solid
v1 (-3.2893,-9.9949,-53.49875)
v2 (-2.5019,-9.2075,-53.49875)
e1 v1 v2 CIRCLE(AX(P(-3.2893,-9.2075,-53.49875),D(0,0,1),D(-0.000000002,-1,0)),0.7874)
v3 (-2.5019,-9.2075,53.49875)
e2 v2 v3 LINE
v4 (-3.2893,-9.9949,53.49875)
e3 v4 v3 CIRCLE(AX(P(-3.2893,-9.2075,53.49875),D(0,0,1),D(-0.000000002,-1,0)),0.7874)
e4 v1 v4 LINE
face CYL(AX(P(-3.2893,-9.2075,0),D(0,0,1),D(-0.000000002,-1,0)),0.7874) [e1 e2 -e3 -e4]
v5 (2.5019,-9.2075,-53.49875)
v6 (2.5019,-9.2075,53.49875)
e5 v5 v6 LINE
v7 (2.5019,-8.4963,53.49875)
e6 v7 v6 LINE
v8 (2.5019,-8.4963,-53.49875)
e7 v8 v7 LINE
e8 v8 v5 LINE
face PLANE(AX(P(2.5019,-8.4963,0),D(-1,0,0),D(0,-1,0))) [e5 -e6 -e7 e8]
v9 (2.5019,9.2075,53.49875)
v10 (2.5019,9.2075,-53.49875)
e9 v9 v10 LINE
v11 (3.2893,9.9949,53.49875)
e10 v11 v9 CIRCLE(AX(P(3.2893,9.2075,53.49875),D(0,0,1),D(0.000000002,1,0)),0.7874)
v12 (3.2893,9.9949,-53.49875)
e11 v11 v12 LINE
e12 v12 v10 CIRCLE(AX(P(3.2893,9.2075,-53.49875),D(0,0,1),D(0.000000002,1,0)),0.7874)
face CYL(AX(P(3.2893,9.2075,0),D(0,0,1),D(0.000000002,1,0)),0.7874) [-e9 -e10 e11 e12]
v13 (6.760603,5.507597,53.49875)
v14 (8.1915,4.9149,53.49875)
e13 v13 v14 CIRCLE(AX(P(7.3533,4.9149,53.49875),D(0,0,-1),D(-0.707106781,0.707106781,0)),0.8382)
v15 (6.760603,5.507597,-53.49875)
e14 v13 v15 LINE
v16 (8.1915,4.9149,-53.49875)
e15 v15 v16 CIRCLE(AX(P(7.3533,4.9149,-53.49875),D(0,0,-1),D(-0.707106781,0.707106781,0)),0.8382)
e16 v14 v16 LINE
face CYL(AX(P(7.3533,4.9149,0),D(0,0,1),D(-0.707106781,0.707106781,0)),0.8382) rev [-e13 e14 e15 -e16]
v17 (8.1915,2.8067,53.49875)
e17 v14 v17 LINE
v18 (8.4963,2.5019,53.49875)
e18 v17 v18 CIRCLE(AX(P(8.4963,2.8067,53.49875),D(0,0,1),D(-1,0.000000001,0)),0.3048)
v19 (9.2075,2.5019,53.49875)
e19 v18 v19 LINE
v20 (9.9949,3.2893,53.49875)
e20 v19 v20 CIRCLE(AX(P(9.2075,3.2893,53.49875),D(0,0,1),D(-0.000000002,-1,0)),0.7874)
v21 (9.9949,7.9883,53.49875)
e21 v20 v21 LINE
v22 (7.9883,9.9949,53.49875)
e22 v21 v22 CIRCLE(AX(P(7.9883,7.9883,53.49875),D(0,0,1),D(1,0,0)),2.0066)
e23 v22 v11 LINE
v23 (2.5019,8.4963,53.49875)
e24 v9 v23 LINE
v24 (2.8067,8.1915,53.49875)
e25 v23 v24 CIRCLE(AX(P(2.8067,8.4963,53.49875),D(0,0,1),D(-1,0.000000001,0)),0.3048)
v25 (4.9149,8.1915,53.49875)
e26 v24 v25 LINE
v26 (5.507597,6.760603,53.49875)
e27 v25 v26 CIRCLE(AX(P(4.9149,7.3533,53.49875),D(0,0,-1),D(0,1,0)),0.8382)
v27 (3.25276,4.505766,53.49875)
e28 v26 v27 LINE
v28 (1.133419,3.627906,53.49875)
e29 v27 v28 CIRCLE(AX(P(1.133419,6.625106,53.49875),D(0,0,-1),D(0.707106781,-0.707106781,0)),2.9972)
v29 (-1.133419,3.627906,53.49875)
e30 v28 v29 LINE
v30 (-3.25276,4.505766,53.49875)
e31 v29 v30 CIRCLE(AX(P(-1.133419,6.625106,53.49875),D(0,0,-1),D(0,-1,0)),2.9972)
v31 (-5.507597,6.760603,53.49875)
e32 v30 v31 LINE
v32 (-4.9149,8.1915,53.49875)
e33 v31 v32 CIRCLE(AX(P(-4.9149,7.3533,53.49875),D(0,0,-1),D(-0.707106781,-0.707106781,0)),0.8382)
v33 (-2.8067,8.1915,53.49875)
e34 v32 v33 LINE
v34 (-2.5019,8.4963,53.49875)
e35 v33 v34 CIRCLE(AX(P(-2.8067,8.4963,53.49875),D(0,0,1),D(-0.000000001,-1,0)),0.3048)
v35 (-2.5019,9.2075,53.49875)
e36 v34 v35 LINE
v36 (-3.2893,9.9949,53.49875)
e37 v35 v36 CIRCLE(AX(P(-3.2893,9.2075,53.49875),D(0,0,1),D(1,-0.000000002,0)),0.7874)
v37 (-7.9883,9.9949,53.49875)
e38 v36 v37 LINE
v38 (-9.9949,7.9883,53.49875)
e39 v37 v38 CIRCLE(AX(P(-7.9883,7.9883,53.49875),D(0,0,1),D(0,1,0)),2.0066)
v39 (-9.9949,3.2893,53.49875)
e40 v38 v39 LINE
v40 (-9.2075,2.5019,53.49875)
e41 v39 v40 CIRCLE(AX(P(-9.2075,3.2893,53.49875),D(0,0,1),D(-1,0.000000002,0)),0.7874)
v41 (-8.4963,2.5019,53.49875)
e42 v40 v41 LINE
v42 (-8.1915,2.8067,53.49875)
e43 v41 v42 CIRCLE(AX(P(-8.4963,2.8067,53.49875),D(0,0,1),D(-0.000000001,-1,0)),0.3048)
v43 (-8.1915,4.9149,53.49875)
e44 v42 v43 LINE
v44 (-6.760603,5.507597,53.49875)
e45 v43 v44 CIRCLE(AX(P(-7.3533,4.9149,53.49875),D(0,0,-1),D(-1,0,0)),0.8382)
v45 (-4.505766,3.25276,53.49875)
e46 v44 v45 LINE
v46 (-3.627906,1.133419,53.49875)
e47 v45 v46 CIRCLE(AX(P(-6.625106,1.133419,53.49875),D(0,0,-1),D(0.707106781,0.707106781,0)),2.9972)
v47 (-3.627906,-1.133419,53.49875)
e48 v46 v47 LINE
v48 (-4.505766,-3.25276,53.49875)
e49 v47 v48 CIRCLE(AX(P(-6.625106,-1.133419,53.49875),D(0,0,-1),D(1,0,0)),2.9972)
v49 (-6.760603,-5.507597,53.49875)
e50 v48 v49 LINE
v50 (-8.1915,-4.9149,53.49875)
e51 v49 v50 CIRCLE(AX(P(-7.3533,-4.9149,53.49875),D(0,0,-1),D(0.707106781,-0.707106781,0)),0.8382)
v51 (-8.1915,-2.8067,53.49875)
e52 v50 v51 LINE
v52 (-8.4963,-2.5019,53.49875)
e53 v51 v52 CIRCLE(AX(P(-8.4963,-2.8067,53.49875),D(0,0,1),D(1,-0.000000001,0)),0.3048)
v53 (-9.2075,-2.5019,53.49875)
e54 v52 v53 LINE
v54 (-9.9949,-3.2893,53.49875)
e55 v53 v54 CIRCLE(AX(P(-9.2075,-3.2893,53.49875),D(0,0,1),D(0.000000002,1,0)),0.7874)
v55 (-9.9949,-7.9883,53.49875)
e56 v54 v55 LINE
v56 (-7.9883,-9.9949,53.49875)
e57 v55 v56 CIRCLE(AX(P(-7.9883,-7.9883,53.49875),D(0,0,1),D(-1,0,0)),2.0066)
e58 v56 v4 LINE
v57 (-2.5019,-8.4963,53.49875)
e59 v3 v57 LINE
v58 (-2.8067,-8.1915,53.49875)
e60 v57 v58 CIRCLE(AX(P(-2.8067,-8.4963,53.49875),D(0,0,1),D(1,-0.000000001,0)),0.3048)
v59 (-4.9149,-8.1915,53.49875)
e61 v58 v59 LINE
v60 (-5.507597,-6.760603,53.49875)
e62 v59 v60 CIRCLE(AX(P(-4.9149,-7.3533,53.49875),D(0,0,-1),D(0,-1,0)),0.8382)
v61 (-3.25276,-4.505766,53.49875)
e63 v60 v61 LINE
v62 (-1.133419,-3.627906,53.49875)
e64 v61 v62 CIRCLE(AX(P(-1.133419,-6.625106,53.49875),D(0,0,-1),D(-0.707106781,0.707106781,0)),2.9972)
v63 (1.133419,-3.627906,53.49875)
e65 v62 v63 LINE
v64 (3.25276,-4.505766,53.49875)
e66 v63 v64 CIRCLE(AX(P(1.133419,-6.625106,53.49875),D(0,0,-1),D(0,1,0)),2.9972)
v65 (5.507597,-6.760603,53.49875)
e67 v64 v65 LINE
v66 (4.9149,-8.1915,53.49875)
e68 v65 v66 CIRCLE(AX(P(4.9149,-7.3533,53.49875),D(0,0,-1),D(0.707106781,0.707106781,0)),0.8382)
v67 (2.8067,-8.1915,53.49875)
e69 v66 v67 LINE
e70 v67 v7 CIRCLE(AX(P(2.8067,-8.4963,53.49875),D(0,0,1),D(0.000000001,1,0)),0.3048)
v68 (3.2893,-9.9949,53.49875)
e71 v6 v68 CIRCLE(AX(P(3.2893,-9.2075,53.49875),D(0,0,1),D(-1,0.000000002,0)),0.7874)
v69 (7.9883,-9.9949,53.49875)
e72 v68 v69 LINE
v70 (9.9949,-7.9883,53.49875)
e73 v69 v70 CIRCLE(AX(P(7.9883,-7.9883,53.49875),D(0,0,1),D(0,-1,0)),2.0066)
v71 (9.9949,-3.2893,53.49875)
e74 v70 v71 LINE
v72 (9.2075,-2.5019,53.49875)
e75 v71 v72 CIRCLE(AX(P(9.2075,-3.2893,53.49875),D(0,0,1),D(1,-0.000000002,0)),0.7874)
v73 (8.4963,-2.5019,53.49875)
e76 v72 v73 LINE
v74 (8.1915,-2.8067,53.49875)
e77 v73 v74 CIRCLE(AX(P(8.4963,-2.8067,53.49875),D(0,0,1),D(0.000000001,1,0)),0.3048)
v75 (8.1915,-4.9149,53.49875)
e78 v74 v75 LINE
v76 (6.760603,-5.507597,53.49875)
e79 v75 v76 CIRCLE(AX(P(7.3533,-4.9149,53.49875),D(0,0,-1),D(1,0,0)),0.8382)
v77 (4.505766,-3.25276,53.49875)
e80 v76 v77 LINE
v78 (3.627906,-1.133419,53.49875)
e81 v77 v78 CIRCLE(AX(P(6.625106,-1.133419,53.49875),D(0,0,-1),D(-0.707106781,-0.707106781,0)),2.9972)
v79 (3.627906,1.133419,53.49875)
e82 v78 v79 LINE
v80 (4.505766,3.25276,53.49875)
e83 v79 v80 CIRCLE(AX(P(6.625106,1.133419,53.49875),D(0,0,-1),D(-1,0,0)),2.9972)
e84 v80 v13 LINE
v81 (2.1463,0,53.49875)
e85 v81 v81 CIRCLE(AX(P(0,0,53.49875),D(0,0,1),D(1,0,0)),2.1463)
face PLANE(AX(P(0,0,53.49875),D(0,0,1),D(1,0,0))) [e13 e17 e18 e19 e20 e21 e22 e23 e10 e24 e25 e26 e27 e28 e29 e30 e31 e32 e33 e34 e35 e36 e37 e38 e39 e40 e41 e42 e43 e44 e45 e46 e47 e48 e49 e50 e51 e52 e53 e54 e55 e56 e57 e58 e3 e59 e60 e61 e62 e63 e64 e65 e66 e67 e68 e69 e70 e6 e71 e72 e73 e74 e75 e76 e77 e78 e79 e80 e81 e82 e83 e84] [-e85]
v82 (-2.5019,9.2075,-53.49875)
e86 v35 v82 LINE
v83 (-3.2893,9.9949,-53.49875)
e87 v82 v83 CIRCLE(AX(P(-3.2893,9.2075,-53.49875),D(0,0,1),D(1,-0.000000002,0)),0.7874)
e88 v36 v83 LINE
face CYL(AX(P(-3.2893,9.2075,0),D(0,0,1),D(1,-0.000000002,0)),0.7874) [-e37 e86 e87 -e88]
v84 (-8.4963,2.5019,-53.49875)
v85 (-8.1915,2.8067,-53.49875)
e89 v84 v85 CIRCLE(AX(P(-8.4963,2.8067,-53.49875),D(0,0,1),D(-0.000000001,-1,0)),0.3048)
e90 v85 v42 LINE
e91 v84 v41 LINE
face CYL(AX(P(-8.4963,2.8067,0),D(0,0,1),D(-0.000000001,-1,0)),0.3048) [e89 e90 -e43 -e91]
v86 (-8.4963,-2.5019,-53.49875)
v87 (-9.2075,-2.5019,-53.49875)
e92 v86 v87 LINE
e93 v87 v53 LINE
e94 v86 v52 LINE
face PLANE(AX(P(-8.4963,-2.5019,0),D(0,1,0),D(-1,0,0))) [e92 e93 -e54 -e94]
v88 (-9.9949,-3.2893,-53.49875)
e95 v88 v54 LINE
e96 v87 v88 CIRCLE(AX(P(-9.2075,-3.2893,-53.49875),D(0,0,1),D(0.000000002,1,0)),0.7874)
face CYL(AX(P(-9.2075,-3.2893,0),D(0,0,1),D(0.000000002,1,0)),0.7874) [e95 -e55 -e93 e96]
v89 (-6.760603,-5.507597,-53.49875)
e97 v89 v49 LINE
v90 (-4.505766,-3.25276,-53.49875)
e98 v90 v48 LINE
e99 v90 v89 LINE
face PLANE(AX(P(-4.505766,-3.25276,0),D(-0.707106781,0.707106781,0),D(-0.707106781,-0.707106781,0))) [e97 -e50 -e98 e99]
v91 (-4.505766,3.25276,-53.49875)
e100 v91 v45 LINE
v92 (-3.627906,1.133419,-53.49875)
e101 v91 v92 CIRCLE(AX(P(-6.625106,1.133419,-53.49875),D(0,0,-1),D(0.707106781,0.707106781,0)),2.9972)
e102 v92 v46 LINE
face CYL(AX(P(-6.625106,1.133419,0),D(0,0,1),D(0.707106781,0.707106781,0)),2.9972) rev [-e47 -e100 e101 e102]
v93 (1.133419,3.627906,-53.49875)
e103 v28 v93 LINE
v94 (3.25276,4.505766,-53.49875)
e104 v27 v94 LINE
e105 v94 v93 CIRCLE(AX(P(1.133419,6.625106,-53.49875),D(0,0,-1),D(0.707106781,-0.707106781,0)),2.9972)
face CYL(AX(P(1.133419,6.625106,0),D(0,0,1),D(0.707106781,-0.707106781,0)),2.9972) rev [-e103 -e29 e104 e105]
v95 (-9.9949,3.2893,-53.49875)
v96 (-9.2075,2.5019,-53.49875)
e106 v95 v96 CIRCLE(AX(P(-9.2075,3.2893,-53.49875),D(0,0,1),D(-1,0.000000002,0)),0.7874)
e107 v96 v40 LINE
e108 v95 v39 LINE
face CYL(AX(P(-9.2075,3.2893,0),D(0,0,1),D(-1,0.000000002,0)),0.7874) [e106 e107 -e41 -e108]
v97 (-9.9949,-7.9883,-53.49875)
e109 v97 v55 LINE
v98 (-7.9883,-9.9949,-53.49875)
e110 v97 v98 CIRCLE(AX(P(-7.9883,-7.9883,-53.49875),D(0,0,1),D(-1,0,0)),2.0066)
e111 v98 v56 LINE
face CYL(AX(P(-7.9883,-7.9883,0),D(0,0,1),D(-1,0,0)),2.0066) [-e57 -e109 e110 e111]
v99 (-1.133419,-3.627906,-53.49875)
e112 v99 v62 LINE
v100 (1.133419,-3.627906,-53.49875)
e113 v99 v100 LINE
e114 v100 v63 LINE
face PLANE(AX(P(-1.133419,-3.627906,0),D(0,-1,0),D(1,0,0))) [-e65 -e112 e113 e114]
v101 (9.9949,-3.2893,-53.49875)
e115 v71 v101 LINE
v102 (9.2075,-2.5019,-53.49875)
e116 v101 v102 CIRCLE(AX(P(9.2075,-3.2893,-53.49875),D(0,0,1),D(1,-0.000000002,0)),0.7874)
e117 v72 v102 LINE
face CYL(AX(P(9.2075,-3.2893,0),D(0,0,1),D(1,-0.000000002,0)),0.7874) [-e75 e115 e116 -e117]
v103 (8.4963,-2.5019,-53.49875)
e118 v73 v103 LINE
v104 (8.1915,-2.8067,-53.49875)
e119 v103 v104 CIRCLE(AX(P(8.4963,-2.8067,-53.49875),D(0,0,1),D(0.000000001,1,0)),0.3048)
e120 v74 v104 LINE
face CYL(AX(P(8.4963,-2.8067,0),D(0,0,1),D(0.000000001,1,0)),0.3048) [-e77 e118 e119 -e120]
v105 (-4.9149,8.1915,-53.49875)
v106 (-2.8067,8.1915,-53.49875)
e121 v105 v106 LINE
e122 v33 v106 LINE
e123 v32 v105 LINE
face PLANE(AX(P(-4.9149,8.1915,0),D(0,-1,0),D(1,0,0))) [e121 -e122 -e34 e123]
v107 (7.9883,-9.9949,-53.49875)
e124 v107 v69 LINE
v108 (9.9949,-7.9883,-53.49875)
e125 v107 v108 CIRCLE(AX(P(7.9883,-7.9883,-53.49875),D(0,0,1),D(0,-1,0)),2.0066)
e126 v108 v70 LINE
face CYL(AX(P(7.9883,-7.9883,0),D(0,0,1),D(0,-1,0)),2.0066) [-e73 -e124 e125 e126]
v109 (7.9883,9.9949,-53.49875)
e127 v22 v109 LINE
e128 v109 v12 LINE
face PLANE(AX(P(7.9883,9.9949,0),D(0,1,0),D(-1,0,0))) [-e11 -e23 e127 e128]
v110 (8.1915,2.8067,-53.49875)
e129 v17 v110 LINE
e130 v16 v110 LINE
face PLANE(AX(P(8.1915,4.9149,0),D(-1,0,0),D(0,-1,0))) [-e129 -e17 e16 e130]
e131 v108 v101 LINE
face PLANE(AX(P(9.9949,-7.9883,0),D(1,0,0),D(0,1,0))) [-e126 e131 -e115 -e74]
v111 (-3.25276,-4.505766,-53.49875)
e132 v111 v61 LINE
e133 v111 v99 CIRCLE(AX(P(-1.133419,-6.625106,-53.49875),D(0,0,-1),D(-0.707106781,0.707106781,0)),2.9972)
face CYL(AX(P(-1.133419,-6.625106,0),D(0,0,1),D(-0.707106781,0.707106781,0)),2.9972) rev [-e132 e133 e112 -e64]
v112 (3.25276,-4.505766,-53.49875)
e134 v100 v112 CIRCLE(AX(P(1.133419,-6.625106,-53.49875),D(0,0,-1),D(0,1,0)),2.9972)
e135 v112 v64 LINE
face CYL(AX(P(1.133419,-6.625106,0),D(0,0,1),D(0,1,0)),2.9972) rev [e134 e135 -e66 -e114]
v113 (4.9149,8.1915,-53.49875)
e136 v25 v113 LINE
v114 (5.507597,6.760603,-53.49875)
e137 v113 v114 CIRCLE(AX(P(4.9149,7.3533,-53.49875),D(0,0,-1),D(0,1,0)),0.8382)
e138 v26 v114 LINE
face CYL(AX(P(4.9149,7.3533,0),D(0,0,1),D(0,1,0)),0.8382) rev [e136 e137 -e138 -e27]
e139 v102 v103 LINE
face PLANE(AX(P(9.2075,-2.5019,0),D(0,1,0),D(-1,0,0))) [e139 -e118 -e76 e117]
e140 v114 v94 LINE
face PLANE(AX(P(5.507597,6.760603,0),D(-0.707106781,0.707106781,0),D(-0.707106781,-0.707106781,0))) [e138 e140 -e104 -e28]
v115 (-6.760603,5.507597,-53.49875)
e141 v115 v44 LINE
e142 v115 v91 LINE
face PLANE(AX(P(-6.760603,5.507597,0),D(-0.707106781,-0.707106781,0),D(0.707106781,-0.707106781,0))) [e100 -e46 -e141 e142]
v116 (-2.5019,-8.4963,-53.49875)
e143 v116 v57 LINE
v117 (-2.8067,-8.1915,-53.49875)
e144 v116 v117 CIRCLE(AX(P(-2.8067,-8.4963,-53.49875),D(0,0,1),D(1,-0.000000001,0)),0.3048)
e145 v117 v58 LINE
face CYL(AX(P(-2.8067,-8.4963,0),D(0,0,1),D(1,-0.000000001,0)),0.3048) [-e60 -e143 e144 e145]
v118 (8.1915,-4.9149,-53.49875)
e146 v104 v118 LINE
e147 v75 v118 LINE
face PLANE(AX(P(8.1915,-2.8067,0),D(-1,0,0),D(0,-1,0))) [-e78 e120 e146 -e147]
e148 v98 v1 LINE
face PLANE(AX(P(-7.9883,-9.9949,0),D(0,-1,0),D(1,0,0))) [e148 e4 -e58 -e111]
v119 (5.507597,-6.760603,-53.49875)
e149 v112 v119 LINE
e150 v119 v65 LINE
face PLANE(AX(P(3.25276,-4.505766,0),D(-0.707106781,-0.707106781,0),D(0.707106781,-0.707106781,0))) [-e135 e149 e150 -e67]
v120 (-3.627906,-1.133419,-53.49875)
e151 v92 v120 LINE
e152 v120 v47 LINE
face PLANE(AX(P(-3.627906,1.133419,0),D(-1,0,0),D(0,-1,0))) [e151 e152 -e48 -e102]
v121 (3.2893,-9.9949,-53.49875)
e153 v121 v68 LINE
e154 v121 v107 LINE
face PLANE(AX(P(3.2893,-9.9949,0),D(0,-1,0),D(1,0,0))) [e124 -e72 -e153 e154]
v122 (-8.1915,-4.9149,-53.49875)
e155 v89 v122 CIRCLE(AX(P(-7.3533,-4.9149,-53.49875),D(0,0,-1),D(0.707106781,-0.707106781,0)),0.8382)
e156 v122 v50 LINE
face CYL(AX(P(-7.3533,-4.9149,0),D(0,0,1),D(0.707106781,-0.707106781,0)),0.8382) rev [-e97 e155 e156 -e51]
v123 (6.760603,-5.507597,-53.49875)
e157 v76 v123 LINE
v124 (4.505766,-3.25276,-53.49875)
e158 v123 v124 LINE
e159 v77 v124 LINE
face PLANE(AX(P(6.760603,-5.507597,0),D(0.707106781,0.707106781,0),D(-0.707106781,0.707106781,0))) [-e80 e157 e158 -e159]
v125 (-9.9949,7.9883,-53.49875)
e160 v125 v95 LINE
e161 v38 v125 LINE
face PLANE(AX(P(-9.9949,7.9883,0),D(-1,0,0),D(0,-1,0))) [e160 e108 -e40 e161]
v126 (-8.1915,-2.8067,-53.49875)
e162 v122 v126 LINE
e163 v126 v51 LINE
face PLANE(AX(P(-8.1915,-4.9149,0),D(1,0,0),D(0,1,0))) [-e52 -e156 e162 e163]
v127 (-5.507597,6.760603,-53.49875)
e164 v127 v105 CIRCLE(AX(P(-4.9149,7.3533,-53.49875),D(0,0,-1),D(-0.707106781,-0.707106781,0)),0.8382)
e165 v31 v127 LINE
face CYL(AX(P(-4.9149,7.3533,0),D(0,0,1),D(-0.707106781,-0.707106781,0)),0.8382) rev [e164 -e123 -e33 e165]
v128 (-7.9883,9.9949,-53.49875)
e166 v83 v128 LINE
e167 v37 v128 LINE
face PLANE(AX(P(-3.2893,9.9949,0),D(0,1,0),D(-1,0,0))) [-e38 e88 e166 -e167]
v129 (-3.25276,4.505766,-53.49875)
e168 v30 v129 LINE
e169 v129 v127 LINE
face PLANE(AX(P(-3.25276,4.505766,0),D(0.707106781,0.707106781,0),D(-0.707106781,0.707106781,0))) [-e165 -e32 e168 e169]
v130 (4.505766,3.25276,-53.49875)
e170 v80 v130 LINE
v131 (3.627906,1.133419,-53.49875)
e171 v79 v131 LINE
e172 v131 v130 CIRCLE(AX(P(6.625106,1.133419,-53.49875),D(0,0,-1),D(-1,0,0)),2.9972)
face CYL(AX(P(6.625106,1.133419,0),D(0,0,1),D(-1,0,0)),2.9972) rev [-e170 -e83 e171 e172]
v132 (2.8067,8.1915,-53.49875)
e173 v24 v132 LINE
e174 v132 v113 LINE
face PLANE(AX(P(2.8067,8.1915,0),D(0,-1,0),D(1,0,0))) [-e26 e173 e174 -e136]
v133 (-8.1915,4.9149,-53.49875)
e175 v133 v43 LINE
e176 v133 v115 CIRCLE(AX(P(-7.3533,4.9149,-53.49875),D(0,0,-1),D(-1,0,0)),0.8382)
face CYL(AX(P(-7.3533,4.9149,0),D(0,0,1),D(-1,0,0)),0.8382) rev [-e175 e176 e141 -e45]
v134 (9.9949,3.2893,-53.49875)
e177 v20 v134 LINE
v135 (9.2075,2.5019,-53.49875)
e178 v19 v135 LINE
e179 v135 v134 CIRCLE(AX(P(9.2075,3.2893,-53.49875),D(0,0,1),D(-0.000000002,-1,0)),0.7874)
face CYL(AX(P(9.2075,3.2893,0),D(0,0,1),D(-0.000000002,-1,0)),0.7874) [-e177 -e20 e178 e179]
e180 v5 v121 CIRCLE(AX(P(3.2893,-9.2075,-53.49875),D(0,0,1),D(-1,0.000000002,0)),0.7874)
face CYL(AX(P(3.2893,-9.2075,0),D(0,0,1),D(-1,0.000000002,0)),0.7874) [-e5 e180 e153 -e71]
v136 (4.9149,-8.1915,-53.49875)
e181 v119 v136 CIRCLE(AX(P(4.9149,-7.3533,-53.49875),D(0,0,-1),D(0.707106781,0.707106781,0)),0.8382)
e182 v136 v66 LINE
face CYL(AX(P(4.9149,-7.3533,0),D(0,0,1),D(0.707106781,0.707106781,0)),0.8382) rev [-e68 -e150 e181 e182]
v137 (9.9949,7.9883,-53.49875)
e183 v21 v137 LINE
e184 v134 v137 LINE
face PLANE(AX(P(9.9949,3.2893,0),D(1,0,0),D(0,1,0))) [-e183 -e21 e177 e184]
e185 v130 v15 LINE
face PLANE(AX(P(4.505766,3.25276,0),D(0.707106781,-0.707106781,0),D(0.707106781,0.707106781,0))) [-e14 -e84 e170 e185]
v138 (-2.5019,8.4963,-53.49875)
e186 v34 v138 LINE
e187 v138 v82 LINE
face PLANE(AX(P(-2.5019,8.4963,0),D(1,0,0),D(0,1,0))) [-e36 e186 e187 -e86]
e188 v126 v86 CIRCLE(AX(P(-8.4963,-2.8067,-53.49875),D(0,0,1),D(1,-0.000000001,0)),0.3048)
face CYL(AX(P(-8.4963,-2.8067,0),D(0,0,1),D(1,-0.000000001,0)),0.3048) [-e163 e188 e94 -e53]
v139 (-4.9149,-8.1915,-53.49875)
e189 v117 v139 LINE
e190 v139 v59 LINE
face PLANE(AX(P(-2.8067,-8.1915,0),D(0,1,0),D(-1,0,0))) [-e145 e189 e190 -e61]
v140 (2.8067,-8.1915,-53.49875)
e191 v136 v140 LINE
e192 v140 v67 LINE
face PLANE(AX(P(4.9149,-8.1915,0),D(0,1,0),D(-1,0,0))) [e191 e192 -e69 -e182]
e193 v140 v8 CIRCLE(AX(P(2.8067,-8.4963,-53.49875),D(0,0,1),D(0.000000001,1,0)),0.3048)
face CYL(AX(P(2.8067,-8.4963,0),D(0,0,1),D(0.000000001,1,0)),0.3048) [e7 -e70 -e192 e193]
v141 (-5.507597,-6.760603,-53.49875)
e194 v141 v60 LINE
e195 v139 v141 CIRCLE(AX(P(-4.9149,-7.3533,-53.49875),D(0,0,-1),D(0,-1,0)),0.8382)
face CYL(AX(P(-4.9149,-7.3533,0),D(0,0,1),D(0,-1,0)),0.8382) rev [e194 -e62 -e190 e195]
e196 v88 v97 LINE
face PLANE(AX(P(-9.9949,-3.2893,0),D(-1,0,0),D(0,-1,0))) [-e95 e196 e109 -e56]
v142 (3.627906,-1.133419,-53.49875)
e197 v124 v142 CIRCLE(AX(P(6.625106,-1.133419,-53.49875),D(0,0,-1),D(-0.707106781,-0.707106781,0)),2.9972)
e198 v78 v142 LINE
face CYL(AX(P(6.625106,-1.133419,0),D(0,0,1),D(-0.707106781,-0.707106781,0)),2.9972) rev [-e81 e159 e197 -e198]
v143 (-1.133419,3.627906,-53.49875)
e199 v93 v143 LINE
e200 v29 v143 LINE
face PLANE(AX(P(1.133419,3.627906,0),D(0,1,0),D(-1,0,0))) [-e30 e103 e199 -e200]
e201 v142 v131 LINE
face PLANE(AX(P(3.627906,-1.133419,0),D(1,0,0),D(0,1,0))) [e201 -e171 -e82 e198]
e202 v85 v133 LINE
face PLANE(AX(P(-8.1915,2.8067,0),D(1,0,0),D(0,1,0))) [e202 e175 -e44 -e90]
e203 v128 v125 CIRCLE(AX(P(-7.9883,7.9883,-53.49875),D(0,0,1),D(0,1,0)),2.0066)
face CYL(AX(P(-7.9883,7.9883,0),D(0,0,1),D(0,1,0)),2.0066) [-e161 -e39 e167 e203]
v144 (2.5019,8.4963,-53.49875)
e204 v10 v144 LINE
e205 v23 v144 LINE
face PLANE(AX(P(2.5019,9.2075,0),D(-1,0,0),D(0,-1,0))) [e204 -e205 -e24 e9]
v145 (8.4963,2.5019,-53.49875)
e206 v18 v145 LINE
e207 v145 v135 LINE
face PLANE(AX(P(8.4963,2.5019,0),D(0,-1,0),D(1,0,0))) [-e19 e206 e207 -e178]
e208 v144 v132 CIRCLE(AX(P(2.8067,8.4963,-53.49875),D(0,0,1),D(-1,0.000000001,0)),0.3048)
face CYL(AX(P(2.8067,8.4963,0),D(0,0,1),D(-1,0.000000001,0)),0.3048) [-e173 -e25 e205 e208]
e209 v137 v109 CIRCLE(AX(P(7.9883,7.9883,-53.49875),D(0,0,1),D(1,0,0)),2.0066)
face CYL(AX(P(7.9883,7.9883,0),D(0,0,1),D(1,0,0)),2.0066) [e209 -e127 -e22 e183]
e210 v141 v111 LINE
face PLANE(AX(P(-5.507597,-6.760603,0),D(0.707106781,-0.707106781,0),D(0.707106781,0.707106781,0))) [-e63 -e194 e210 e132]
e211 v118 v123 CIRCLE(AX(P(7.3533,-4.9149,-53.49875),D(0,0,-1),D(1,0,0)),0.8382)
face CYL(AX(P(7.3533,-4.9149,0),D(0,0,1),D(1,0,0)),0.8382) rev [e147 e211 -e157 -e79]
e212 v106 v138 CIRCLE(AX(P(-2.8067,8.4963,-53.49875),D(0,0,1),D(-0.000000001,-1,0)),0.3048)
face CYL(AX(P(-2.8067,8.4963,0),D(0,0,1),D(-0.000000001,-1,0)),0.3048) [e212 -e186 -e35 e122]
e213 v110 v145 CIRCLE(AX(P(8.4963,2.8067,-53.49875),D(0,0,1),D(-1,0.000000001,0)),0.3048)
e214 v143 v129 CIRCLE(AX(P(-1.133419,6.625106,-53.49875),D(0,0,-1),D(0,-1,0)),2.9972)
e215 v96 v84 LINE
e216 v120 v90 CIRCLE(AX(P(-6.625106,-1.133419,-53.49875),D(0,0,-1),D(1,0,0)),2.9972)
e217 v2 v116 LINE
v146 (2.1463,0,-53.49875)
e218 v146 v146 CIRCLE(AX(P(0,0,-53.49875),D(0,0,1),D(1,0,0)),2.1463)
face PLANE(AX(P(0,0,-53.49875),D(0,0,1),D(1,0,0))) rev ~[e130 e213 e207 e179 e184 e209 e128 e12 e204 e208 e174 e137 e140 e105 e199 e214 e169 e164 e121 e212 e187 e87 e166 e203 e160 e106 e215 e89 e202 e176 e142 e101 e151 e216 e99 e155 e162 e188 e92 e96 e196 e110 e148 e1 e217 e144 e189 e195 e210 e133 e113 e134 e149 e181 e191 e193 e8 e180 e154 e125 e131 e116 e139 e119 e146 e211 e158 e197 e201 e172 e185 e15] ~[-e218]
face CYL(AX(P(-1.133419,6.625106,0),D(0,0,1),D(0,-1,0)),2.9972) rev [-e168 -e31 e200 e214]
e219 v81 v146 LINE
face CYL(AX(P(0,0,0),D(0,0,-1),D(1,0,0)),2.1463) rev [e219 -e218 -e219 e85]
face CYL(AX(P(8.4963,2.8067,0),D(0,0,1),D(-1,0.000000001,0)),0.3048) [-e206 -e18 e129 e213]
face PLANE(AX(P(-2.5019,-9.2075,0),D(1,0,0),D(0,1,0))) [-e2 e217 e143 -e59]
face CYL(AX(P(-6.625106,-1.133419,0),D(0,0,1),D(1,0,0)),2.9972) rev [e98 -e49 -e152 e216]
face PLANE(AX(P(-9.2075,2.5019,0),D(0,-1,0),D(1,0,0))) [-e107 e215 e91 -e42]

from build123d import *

# Parameters (mm, degrees)
SKETCH1_R           = 2.1463
BOSS_EXTRUDE1_DEPTH = 53.49875


with BuildPart() as part:
    # Sketch1 → Boss-Extrude1 (new, symmetric)
    with BuildSketch(Plane.XY):
        with BuildLine():
            Line((-9.9949, 7.9883), (-9.9949, 3.2893))
            ThreePointArc((-9.9949, 3.2893), (-9.76427588, 2.73252412), (-9.2075, 2.5019))
            Line((-9.2075, 2.5019), (-8.4963, 2.5019))
            ThreePointArc((-8.4963, 2.5019), (-8.280773853, 2.591173853), (-8.1915, 2.8067))
            Line((-8.1915, 2.8067), (-8.1915, 4.9149))
            ThreePointArc((-8.1915, 4.9149), (-7.674065253, 5.689295824), (-6.760603096, 5.507596904))
            Line((-6.760603096, 5.507596904), (-4.505765747, 3.252759555))
            ThreePointArc((-4.505765747, 3.252759555), (-3.856054457, 2.280397894), (-3.627906192, 1.133419111))
            Line((-3.627906192, 1.133419111), (-3.627906192, -1.133419111))
            ThreePointArc((-3.627906192, -1.133419111), (-3.856054457, -2.280397894), (-4.505765747, -3.252759555))
            Line((-4.505765747, -3.252759555), (-6.760603096, -5.507596904))
            ThreePointArc((-6.760603096, -5.507596904), (-7.674065253, -5.689295824), (-8.1915, -4.9149))
            Line((-8.1915, -4.9149), (-8.1915, -2.8067))
            ThreePointArc((-8.1915, -2.8067), (-8.280773853, -2.591173853), (-8.4963, -2.5019))
            Line((-8.4963, -2.5019), (-9.2075, -2.5019))
            ThreePointArc((-9.2075, -2.5019), (-9.76427588, -2.73252412), (-9.9949, -3.2893))
            Line((-9.9949, -3.2893), (-9.9949, -7.9883))
            ThreePointArc((-9.9949, -7.9883), (-9.407180467, -9.407180467), (-7.9883, -9.9949))
            Line((-7.9883, -9.9949), (-3.2893, -9.9949))
            ThreePointArc((-3.2893, -9.9949), (-2.73252412, -9.76427588), (-2.5019, -9.2075))
            Line((-2.5019, -9.2075), (-2.5019, -8.4963))
            ThreePointArc((-2.5019, -8.4963), (-2.591173853, -8.280773853), (-2.8067, -8.1915))
            Line((-2.8067, -8.1915), (-4.9149, -8.1915))
            ThreePointArc((-4.9149, -8.1915), (-5.689295824, -7.674065253), (-5.507596904, -6.760603096))
            Line((-5.507596904, -6.760603096), (-3.252759555, -4.505765747))
            ThreePointArc((-3.252759555, -4.505765747), (-2.280397894, -3.856054457), (-1.133419111, -3.627906192))
            Line((-1.133419111, -3.627906192), (1.133419111, -3.627906192))
            ThreePointArc((1.133419111, -3.627906192), (2.280397894, -3.856054457), (3.252759555, -4.505765747))
            Line((3.252759555, -4.505765747), (5.507596904, -6.760603096))
            ThreePointArc((5.507596904, -6.760603096), (5.689295824, -7.674065253), (4.9149, -8.1915))
            Line((4.9149, -8.1915), (2.8067, -8.1915))
            ThreePointArc((2.8067, -8.1915), (2.591173853, -8.280773853), (2.5019, -8.4963))
            Line((2.5019, -8.4963), (2.5019, -9.2075))
            ThreePointArc((2.5019, -9.2075), (2.73252412, -9.76427588), (3.2893, -9.9949))
            Line((3.2893, -9.9949), (7.9883, -9.9949))
            ThreePointArc((7.9883, -9.9949), (9.407180467, -9.407180467), (9.9949, -7.9883))
            Line((9.9949, -7.9883), (9.9949, -3.2893))
            ThreePointArc((9.9949, -3.2893), (9.76427588, -2.73252412), (9.2075, -2.5019))
            Line((9.2075, -2.5019), (8.4963, -2.5019))
            ThreePointArc((8.4963, -2.5019), (8.280773853, -2.591173853), (8.1915, -2.8067))
            Line((8.1915, -2.8067), (8.1915, -4.9149))
            ThreePointArc((8.1915, -4.9149), (7.674065253, -5.689295824), (6.760603096, -5.507596904))
            Line((6.760603096, -5.507596904), (4.505765747, -3.252759555))
            ThreePointArc((4.505765747, -3.252759555), (3.856054457, -2.280397894), (3.627906192, -1.133419111))
            Line((3.627906192, -1.133419111), (3.627906192, 1.133419111))
            ThreePointArc((3.627906192, 1.133419111), (3.856054457, 2.280397894), (4.505765747, 3.252759555))
            Line((4.505765747, 3.252759555), (6.760603096, 5.507596904))
            ThreePointArc((6.760603096, 5.507596904), (7.674065253, 5.689295824), (8.1915, 4.9149))
            Line((8.1915, 4.9149), (8.1915, 2.8067))
            ThreePointArc((8.1915, 2.8067), (8.280773853, 2.591173853), (8.4963, 2.5019))
            Line((8.4963, 2.5019), (9.2075, 2.5019))
            ThreePointArc((9.2075, 2.5019), (9.76427588, 2.73252412), (9.9949, 3.2893))
            Line((9.9949, 3.2893), (9.9949, 7.9883))
            ThreePointArc((9.9949, 7.9883), (9.407180467, 9.407180467), (7.9883, 9.9949))
            Line((7.9883, 9.9949), (3.2893, 9.9949))
            ThreePointArc((3.2893, 9.9949), (2.73252412, 9.76427588), (2.5019, 9.2075))
            Line((2.5019, 9.2075), (2.5019, 8.4963))
            ThreePointArc((2.5019, 8.4963), (2.591173853, 8.280773853), (2.8067, 8.1915))
            Line((2.8067, 8.1915), (4.9149, 8.1915))
            ThreePointArc((4.9149, 8.1915), (5.689295824, 7.674065253), (5.507596904, 6.760603096))
            Line((5.507596904, 6.760603096), (3.252759555, 4.505765747))
            ThreePointArc((3.252759555, 4.505765747), (2.280397894, 3.856054457), (1.133419111, 3.627906192))
            Line((1.133419111, 3.627906192), (-1.133419111, 3.627906192))
            ThreePointArc((-1.133419111, 3.627906192), (-2.280397894, 3.856054457), (-3.252759555, 4.505765747))
            Line((-3.252759555, 4.505765747), (-5.507596904, 6.760603096))
            ThreePointArc((-5.507596904, 6.760603096), (-5.689295824, 7.674065253), (-4.9149, 8.1915))
            Line((-4.9149, 8.1915), (-2.8067, 8.1915))
            ThreePointArc((-2.8067, 8.1915), (-2.591173853, 8.280773853), (-2.5019, 8.4963))
            Line((-2.5019, 8.4963), (-2.5019, 9.2075))
            ThreePointArc((-2.5019, 9.2075), (-2.73252412, 9.76427588), (-3.2893, 9.9949))
            Line((-3.2893, 9.9949), (-7.9883, 9.9949))
            ThreePointArc((-7.9883, 9.9949), (-9.407180467, 9.407180467), (-9.9949, 7.9883))
        make_face()
        Circle(SKETCH1_R, mode=Mode.SUBTRACT)
    extrude(amount=BOSS_EXTRUDE1_DEPTH, both=True)


solid = part.part
